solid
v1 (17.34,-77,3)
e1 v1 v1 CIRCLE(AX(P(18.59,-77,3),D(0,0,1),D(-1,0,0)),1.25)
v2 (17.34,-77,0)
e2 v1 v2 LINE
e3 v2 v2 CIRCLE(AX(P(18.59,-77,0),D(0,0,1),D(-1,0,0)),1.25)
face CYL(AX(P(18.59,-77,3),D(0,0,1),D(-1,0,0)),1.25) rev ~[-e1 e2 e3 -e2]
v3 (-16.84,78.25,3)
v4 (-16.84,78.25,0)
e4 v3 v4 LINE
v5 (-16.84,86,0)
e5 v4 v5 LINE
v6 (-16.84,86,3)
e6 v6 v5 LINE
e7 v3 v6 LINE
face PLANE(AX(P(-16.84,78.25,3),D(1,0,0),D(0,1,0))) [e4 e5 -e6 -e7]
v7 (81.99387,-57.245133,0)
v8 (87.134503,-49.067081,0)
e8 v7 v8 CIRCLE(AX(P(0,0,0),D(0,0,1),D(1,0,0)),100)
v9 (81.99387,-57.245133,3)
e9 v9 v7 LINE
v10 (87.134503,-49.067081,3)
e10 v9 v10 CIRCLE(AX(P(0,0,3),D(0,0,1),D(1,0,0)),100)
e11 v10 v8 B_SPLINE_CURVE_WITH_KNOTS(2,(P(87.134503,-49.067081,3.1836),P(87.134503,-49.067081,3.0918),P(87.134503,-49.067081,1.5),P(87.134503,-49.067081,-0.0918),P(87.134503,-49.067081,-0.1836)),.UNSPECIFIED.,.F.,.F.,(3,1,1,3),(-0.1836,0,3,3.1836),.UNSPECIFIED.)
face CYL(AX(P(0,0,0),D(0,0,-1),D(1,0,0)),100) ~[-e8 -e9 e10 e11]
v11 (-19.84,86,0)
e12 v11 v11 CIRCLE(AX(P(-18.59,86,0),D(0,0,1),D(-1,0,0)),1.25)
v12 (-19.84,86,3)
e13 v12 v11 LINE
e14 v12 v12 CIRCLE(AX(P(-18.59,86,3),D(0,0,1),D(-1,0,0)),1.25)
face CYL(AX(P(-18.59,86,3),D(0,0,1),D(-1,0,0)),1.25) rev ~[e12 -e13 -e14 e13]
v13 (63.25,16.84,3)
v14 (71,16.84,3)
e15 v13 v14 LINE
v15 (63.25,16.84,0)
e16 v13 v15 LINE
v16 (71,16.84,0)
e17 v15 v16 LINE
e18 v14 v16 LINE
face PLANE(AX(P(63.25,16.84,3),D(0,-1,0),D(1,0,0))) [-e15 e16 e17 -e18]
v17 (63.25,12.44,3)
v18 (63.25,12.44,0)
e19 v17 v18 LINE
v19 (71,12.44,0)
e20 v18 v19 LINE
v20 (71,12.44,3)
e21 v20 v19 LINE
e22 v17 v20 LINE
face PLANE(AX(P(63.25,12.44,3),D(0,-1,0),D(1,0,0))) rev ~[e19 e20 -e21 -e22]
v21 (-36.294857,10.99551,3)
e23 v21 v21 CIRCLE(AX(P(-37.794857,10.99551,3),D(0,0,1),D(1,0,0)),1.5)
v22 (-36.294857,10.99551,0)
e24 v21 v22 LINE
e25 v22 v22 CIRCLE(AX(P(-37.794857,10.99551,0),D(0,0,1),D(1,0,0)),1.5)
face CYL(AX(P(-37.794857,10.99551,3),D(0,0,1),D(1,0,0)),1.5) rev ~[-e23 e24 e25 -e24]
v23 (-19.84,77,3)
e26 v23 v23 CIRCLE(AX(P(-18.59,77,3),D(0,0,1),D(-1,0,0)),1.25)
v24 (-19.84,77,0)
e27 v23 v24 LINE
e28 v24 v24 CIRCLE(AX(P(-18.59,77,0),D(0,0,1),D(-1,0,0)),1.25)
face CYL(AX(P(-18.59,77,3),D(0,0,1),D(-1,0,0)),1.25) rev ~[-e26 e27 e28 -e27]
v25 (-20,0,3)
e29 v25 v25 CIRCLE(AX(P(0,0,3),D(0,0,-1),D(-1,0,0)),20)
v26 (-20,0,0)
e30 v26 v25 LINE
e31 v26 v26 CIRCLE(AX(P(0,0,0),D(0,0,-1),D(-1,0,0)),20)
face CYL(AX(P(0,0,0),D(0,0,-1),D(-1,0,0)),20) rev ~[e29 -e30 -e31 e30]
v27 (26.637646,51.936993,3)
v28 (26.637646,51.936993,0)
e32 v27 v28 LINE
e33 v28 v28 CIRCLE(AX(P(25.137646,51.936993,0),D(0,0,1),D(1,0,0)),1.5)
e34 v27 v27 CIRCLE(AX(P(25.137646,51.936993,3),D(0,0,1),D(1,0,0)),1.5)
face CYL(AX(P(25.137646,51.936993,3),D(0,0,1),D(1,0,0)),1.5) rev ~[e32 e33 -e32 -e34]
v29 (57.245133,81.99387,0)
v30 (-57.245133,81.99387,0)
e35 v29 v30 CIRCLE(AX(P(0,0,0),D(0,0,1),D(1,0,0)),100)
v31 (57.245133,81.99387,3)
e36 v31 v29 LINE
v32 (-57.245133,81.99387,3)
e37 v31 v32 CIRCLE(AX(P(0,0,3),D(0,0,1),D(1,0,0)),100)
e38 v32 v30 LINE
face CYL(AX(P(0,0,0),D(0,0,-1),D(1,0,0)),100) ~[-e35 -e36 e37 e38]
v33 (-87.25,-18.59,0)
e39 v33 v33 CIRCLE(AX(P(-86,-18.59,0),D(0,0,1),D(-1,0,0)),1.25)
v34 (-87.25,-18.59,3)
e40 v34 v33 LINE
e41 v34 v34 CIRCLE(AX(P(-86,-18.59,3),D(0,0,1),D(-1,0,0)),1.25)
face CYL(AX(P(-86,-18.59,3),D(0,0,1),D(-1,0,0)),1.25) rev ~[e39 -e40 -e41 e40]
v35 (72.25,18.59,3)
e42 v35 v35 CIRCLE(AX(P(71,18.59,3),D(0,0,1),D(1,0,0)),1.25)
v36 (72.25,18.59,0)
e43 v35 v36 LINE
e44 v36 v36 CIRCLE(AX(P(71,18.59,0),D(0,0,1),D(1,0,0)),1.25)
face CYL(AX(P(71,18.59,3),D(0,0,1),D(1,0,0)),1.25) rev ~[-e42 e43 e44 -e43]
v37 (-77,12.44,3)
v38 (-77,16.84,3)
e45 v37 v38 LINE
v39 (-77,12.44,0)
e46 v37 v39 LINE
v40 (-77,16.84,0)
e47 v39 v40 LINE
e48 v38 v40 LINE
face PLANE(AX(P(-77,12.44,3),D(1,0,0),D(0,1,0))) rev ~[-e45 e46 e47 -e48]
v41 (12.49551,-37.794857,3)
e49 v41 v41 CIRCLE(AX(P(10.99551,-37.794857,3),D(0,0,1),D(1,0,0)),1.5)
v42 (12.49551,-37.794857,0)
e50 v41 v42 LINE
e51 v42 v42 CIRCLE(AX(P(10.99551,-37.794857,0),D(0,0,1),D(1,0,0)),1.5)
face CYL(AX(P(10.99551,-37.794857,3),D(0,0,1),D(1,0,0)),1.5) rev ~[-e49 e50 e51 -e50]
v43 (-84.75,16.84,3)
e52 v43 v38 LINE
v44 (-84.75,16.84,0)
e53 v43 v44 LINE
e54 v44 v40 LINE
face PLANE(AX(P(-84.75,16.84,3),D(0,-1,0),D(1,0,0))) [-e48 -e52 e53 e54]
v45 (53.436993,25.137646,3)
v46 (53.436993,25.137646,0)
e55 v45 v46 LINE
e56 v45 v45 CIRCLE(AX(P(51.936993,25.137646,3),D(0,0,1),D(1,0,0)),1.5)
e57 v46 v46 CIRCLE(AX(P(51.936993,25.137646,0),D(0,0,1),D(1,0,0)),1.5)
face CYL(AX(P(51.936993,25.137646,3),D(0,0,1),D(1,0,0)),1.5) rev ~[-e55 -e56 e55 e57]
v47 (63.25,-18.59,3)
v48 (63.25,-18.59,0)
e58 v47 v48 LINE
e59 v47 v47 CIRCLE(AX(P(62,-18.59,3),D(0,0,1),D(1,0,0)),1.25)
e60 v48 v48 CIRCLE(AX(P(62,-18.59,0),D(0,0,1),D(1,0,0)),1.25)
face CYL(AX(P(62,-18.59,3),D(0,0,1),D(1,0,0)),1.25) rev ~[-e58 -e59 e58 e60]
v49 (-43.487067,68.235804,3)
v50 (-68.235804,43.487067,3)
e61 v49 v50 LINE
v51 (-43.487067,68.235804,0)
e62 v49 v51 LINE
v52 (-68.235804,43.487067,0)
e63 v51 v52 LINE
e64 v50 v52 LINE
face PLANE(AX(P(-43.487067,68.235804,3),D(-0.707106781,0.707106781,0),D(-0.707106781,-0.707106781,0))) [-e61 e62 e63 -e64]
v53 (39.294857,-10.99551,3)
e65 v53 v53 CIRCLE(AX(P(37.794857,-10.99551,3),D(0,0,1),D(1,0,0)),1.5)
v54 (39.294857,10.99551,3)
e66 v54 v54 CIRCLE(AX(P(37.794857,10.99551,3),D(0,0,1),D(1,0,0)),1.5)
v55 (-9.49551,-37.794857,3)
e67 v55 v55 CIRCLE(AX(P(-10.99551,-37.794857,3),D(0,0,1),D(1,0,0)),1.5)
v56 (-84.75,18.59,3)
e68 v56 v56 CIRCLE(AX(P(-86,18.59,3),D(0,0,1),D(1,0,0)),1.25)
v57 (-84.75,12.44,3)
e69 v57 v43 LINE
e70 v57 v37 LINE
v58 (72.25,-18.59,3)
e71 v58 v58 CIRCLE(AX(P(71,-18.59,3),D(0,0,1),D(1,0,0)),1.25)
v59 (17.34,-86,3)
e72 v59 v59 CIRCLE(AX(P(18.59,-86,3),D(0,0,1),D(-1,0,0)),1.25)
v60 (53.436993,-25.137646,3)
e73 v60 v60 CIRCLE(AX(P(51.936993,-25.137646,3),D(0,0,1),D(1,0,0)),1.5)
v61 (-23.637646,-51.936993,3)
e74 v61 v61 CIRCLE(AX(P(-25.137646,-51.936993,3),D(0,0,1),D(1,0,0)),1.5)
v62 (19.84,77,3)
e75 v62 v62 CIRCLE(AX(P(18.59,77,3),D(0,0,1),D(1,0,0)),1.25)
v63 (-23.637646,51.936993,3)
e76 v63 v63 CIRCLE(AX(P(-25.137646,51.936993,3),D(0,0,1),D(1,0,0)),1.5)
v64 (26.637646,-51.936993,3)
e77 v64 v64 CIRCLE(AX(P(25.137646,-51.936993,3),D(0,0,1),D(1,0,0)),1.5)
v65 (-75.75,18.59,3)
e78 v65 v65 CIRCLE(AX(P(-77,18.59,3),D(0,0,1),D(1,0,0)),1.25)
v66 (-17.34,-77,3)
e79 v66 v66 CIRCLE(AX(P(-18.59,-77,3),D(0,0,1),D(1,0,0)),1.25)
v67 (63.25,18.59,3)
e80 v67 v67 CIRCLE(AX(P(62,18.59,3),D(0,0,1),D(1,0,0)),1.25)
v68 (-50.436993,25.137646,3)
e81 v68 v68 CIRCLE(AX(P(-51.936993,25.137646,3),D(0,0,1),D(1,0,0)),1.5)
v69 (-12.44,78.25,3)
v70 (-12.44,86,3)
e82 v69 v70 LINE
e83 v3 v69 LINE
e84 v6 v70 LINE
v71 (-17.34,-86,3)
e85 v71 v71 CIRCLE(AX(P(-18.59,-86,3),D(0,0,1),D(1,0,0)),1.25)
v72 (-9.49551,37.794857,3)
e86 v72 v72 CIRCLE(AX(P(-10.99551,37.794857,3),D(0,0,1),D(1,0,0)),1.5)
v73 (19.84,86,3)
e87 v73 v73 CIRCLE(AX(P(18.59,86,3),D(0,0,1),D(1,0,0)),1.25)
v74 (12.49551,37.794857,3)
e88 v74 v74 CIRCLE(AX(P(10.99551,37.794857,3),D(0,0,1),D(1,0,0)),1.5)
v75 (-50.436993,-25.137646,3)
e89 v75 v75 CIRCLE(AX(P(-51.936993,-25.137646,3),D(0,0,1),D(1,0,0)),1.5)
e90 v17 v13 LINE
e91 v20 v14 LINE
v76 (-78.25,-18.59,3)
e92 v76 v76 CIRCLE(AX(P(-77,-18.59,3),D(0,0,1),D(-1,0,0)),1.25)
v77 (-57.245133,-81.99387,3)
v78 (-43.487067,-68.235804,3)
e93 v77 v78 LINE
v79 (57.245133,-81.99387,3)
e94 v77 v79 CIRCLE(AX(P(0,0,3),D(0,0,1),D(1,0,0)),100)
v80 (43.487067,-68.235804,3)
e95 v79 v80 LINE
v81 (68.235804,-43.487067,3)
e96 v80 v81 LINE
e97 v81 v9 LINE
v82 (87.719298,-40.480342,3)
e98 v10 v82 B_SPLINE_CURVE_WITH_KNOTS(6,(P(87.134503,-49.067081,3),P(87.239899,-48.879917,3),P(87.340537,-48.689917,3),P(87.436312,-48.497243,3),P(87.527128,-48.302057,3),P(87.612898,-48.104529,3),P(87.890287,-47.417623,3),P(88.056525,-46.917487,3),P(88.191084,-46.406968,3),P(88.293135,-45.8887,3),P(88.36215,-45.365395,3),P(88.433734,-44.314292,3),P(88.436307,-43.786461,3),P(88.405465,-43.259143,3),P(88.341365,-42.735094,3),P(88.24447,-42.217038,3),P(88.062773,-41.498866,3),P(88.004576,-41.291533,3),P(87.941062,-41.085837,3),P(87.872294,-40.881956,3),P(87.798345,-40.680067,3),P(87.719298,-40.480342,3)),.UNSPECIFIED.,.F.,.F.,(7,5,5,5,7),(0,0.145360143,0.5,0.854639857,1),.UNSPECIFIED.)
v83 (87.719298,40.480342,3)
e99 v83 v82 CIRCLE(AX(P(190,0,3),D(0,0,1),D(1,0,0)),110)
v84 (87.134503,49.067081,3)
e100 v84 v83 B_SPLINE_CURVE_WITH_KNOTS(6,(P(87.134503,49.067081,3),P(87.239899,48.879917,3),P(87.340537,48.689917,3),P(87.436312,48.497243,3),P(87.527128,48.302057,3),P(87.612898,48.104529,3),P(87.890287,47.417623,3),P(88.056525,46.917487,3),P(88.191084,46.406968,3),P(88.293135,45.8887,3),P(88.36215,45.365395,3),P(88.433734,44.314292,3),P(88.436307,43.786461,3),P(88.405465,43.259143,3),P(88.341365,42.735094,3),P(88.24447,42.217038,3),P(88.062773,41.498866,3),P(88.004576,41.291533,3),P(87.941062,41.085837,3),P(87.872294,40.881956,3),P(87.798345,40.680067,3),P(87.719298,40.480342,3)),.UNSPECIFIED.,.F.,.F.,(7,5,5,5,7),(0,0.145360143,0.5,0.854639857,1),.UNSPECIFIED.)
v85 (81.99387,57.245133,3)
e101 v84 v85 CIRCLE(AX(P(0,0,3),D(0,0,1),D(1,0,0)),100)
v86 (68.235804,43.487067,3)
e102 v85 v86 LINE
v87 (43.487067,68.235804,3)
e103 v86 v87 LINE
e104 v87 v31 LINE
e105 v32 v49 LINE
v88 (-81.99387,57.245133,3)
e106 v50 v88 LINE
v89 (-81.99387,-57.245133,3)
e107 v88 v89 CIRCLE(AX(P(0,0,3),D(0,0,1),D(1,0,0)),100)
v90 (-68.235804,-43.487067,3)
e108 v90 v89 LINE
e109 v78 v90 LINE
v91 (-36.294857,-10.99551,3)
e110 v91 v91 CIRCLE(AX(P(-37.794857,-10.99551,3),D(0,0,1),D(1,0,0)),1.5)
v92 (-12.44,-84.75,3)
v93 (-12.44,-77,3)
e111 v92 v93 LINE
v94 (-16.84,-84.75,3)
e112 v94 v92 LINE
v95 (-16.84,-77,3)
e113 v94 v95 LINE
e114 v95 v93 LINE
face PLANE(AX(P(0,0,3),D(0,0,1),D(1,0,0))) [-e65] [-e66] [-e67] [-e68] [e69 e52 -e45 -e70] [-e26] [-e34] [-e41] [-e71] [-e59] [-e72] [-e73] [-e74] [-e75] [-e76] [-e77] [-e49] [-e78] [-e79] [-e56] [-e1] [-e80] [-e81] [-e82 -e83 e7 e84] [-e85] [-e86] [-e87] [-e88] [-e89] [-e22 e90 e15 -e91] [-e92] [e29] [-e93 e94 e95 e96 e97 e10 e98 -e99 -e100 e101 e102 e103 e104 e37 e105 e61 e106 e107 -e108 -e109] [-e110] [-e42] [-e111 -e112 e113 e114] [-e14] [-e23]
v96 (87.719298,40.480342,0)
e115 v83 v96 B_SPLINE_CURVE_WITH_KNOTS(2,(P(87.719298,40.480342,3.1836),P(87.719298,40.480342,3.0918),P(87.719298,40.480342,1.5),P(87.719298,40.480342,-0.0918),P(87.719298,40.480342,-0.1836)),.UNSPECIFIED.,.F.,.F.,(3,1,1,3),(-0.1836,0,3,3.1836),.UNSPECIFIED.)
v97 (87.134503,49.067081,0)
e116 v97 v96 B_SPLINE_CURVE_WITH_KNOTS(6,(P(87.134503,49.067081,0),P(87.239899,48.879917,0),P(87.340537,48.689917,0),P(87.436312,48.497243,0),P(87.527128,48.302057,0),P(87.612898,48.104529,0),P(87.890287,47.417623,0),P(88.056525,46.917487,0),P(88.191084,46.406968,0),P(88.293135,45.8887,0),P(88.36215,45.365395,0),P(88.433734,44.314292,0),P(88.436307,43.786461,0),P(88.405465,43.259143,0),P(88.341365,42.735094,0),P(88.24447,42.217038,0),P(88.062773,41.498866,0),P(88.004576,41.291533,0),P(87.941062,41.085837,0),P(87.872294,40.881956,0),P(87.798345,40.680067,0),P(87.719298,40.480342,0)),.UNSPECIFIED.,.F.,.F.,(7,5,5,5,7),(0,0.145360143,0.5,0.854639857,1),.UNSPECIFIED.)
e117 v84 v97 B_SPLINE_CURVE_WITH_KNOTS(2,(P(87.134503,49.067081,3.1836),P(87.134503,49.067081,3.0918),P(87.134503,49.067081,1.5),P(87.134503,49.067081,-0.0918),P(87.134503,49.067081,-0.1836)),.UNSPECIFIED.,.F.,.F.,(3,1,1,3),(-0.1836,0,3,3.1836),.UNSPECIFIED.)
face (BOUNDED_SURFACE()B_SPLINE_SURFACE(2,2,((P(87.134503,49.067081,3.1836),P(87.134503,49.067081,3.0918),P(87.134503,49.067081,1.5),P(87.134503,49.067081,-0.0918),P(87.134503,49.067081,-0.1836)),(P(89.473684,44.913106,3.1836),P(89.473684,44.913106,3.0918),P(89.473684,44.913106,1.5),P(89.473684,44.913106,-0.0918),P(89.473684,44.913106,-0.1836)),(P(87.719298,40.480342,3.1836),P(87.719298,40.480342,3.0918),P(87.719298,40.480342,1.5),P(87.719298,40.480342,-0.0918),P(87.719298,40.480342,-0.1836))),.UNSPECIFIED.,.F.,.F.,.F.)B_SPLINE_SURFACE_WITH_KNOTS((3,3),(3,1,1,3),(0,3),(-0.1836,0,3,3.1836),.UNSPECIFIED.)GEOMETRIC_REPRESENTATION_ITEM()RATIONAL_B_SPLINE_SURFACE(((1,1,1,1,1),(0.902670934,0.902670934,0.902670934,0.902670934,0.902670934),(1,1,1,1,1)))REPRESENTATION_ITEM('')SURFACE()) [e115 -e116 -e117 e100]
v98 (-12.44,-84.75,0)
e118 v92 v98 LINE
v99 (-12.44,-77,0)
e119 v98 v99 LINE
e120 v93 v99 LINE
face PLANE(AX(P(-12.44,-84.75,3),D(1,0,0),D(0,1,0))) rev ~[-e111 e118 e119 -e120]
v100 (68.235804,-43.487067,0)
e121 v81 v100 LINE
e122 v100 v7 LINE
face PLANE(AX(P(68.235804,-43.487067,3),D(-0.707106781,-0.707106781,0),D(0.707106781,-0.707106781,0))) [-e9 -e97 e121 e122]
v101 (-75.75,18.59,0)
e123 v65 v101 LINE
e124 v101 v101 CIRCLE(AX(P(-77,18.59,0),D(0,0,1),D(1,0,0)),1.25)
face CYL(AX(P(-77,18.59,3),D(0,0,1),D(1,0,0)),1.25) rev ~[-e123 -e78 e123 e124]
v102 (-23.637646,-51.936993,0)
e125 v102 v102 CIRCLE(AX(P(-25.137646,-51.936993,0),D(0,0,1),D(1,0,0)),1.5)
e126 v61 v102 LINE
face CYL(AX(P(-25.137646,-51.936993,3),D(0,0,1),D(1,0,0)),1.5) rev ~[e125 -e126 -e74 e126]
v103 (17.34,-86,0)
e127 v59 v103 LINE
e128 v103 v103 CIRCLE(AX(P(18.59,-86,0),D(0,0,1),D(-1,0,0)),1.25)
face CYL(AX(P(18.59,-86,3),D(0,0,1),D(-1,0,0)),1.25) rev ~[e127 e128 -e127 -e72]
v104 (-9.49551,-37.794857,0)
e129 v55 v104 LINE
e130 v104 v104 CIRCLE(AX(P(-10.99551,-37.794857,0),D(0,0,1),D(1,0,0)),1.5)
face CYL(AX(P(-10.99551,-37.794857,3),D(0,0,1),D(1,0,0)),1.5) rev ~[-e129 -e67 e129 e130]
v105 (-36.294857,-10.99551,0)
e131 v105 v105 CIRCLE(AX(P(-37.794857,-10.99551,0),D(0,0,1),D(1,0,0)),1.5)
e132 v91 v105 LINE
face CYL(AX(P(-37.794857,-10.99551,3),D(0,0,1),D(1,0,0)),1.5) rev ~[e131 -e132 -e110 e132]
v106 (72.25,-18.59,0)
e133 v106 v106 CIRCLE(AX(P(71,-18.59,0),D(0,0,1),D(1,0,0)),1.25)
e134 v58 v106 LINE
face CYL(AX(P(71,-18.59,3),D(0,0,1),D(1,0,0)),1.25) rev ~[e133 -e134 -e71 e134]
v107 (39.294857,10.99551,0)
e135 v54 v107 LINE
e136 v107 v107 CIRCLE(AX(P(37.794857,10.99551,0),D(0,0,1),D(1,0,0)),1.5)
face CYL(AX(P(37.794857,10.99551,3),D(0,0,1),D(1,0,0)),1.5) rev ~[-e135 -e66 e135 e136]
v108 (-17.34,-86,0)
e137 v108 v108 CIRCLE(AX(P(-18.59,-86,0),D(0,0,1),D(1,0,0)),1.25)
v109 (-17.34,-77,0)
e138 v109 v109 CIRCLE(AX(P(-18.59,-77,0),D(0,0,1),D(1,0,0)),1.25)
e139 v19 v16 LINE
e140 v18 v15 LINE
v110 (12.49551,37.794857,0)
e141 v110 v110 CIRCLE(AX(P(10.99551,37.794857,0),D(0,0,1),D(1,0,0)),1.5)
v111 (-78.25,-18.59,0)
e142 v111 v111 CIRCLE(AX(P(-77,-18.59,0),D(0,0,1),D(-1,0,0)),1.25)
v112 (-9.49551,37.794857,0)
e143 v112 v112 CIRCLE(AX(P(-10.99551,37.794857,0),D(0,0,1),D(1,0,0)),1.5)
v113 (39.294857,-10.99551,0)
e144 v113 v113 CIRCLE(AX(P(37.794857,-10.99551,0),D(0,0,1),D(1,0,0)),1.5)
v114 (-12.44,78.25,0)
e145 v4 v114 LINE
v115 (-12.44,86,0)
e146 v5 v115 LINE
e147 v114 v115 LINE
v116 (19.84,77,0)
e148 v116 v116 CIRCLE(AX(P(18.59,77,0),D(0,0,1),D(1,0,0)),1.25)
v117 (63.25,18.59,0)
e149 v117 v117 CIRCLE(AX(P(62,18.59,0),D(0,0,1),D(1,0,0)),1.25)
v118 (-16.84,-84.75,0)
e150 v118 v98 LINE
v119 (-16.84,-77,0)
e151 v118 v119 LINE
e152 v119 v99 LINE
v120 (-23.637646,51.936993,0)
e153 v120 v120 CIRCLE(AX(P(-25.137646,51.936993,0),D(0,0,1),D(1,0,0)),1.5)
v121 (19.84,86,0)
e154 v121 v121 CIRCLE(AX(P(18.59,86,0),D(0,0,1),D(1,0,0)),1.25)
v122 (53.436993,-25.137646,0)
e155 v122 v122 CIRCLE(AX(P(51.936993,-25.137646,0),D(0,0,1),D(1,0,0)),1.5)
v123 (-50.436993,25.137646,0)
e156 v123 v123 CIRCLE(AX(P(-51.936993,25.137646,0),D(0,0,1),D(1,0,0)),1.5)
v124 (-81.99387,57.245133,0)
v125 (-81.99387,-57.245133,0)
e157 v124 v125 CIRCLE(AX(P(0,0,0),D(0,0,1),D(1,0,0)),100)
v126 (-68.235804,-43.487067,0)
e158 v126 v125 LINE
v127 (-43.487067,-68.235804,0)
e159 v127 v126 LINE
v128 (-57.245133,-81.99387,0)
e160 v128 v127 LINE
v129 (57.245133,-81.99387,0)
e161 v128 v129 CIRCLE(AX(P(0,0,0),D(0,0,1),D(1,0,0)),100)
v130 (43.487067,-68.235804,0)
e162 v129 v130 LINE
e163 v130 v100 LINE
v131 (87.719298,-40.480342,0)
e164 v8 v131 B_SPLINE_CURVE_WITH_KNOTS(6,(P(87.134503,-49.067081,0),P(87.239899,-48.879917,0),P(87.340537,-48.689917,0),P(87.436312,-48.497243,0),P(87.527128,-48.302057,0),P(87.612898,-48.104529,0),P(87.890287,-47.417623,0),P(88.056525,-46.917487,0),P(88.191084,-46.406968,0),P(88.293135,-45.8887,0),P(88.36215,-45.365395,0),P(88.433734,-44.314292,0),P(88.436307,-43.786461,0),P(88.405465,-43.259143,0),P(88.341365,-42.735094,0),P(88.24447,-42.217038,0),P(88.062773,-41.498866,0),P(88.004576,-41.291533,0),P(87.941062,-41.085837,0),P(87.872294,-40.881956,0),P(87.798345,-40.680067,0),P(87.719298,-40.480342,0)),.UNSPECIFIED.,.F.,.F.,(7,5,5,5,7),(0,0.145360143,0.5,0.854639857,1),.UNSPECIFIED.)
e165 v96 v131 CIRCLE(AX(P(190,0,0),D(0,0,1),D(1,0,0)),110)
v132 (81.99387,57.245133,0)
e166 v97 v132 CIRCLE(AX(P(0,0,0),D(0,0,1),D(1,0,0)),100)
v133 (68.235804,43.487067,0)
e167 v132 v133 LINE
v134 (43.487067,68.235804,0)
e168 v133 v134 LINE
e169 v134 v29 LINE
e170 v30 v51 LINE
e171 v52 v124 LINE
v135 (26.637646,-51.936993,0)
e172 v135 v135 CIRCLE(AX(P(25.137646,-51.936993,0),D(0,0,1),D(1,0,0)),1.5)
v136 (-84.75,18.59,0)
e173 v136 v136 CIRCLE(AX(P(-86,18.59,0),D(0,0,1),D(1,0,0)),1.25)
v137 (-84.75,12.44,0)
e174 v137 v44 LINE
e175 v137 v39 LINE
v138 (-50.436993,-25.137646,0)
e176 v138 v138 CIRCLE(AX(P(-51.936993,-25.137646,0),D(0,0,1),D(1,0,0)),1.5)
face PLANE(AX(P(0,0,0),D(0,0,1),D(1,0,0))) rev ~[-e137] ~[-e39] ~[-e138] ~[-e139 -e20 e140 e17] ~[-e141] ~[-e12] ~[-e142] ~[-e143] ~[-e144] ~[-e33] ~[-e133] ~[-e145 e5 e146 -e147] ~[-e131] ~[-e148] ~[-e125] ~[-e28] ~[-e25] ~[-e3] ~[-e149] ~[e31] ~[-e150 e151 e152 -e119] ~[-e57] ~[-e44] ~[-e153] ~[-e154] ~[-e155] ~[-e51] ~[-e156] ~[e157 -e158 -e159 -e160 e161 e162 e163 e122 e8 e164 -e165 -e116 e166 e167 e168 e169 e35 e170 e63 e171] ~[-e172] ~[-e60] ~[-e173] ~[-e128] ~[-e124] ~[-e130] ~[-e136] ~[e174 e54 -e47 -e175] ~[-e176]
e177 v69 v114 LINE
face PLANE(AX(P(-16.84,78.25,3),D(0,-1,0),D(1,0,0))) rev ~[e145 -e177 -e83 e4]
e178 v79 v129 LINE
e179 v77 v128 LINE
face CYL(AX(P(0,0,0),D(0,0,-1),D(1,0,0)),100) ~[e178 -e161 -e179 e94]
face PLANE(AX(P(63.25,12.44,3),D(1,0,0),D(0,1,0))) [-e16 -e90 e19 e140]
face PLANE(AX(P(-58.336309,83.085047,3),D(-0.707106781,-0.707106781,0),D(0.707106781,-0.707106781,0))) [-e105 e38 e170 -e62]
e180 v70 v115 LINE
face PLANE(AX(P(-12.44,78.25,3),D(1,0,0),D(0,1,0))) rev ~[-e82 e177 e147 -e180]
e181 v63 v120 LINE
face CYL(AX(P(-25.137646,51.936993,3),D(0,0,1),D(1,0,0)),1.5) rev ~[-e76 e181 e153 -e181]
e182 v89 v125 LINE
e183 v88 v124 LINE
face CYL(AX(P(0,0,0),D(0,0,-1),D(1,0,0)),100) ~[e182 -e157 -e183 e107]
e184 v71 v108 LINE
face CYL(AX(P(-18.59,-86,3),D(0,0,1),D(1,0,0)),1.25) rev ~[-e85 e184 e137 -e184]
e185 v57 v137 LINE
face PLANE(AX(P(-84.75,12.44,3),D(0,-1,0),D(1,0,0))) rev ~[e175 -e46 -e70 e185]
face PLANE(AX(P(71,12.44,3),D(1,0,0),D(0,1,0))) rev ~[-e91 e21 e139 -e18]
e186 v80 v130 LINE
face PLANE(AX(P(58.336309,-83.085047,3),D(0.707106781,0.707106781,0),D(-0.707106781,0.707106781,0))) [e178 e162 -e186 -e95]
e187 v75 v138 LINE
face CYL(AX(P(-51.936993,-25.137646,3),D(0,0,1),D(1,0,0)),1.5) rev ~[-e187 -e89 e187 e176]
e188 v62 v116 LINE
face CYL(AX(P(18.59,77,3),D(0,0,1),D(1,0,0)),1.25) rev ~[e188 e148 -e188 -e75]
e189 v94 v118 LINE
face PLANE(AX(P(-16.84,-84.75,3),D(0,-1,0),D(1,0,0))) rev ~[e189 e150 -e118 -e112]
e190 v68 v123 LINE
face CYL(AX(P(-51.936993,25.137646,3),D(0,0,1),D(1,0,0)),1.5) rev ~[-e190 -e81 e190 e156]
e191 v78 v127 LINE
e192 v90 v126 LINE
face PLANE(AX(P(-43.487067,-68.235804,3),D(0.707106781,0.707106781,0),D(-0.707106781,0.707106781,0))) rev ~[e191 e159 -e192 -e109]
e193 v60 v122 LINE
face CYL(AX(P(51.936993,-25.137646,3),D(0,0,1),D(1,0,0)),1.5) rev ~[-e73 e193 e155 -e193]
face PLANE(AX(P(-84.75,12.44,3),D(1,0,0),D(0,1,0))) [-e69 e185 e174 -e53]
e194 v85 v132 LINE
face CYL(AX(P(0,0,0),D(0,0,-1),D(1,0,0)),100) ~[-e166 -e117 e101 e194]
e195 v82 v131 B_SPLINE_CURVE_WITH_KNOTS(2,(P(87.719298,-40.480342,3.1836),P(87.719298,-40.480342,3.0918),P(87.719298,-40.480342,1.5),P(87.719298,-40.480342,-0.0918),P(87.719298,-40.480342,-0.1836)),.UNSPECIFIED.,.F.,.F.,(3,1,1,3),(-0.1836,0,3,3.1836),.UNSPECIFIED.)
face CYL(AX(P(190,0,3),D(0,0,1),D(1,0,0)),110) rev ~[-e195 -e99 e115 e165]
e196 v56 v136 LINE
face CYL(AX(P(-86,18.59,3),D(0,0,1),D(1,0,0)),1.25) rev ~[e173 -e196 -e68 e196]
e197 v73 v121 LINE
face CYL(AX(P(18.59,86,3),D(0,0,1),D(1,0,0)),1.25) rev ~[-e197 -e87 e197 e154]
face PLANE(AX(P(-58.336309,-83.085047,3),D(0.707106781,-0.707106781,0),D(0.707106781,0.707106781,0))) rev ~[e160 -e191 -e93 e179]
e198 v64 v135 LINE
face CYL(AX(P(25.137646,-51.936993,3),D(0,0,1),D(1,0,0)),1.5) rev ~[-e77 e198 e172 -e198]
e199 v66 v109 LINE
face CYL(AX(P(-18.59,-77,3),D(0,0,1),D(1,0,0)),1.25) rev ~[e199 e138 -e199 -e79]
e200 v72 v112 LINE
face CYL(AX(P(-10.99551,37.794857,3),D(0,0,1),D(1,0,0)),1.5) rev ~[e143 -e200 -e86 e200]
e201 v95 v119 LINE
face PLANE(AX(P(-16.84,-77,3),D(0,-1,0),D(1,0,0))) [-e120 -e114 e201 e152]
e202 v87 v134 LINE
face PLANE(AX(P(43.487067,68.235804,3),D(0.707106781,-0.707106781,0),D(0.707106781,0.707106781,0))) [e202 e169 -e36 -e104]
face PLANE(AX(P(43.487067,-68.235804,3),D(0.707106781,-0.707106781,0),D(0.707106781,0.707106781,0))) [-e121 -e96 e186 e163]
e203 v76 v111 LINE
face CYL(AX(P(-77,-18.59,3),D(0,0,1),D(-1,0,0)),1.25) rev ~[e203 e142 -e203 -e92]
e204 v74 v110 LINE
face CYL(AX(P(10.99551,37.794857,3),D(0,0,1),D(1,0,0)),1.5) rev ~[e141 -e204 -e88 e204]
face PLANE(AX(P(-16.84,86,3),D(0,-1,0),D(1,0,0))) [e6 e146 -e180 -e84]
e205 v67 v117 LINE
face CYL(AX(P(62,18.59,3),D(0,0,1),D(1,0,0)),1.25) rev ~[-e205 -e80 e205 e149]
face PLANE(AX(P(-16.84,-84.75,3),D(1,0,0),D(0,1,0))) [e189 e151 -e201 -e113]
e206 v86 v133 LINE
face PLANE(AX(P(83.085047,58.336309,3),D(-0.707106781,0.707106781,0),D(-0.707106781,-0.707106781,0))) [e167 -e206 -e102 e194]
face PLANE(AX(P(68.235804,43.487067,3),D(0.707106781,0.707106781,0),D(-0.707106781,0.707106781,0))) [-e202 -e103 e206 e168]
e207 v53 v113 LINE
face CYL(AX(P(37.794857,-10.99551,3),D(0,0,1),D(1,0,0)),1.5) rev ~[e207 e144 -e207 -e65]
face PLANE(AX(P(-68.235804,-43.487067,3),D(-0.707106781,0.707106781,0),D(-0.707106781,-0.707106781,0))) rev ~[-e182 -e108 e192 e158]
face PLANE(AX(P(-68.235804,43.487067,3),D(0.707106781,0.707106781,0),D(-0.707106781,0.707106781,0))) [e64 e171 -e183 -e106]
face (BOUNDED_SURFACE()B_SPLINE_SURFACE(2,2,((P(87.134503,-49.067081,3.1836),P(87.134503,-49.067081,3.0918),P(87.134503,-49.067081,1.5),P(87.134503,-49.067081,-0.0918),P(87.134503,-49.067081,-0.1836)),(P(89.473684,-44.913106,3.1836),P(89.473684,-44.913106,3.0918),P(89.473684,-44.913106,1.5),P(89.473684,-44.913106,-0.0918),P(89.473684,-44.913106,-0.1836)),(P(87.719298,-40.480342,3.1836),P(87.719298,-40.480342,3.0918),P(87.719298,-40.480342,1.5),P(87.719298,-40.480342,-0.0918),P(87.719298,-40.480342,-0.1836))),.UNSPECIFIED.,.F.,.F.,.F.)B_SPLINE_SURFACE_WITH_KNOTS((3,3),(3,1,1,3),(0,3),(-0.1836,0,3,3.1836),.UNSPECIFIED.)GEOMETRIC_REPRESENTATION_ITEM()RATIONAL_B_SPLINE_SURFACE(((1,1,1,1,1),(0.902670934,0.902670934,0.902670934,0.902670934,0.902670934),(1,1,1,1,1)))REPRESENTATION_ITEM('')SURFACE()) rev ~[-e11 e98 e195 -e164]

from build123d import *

# Parameters (mm, degrees)
CROQUIS1_R              = 100
SALIENTE_EXTRUIR1_DEPTH = 3
CROQUIS3_R              = 110
CORTAR_EXTRUIR1_DEPTH   = 3
REDONDEO1_R             = 10
CROQUIS4_R              = 1.5
CORTAR_EXTRUIR2_DEPTH   = 142.453172607
CROQUIS5_R              = 1.25
CROQUIS5_W              = 4.4
CROQUIS5_H              = 7.75
CROQUIS5_W_2            = 7.75
CROQUIS5_H_2            = 4.4
CORTAR_EXTRUIR3_DEPTH   = 142.453172607
CROQUIS6_R              = 20
CORTAR_EXTRUIR4_DEPTH   = 142.453172607


with BuildPart() as part:
    # Croquis1 → Saliente-Extruir1 (new body)
    with BuildSketch(Plane.XY):
        Circle(CROQUIS1_R)
    extrude(amount=SALIENTE_EXTRUIR1_DEPTH)

    # Croquis3 → Cortar-Extruir1 (cut)
    with BuildSketch(Plane.XY.offset(3)):
        with Locations((190, 0)):
            Circle(CROQUIS3_R)
    extrude(amount=-CORTAR_EXTRUIR1_DEPTH, mode=Mode.SUBTRACT)

    # Redondeo1
    redondeo1_edges = [part.edges().sort_by_distance(p)[0] for p in [
        (89.473684211, -44.659375654, 1.5),
        (89.473684211, 44.659375654, 1.5),
    ]]
    fillet(redondeo1_edges, radius=REDONDEO1_R)

    # Croquis4 → Cortar-Extruir2 (cut, through all)
    with BuildSketch(Plane.XY.offset(3)):
        with Locations((-10.995510447, 37.794857454)):
            Circle(CROQUIS4_R)
        with Locations((-51.936993078, -25.137646071)):
            Circle(CROQUIS4_R)
        with Locations((-25.137646071, -51.936993078)):
            Circle(CROQUIS4_R)
        with Locations((-10.995510447, -37.794857454)):
            Circle(CROQUIS4_R)
        with Locations((-37.794857454, -10.995510447)):
            Circle(CROQUIS4_R)
        with Locations((-37.794857454, 10.995510447)):
            Circle(CROQUIS4_R)
        with Locations((-51.936993078, 25.137646071)):
            Circle(CROQUIS4_R)
        with Locations((-25.137646071, 51.936993078)):
            Circle(CROQUIS4_R)
        with Locations((37.794857454, 10.995510447)):
            Circle(CROQUIS4_R)
        with Locations((10.995510447, 37.794857454)):
            Circle(CROQUIS4_R)
        with Locations((25.137646071, 51.936993078)):
            Circle(CROQUIS4_R)
        with Locations((51.936993078, 25.137646071)):
            Circle(CROQUIS4_R)
        with Locations((10.995510447, -37.794857454)):
            Circle(CROQUIS4_R)
        with Locations((37.794857454, -10.995510447)):
            Circle(CROQUIS4_R)
        with Locations((51.936993078, -25.137646071)):
            Circle(CROQUIS4_R)
        with Locations((25.137646071, -51.936993078)):
            Circle(CROQUIS4_R)
        Polygon((-83.085046789, -58.336309448), (-58.336309448, -83.085046789), (-43.487067043, -68.235804385), (-68.235804385, -43.487067043), align=None)
        Polygon((-58.336309448, 83.085046789), (-43.487067043, 68.235804385), (-68.235804385, 43.487067043), (-83.085046789, 58.336309448), align=None)
        Polygon((83.085046789, 58.336309448), (68.235804385, 43.487067043), (43.487067043, 68.235804385), (58.336309448, 83.085046789), align=None)
        Polygon((58.336309448, -83.085046789), (43.487067043, -68.235804385), (68.235804385, -43.487067043), (83.085046789, -58.336309448), align=None)
    extrude(amount=-CORTAR_EXTRUIR2_DEPTH, mode=Mode.SUBTRACT)

    # Croquis5 → Cortar-Extruir3 (cut, through all)
    with BuildSketch(Plane.XY.offset(3)):
        with Locations((-86, 18.59)):
            Circle(CROQUIS5_R)
        with Locations((-77, 18.59)):
            Circle(CROQUIS5_R)
        with Locations(Location((-77, -18.59, 0), (0, 0, 180))):
            Circle(CROQUIS5_R)
        with Locations(Location((-86, -18.59, 0), (0, 0, 180))):
            Circle(CROQUIS5_R)
        with Locations((18.59, 77)):
            Circle(CROQUIS5_R)
        with Locations((18.59, 86)):
            Circle(CROQUIS5_R)
        with Locations(Location((-18.59, 86, 0), (0, 0, 180))):
            Circle(CROQUIS5_R)
        with Locations(Location((-18.59, 77, 0), (0, 0, 180))):
            Circle(CROQUIS5_R)
        with Locations((62, 18.59)):
            Circle(CROQUIS5_R)
        with Locations((71, 18.59)):
            Circle(CROQUIS5_R)
        with Locations((62, -18.59)):
            Circle(CROQUIS5_R)
        with Locations((71, -18.59)):
            Circle(CROQUIS5_R)
        with Locations((-18.59, -77)):
            Circle(CROQUIS5_R)
        with Locations((-18.59, -86)):
            Circle(CROQUIS5_R)
        with Locations(Location((18.59, -86, 0), (0, 0, 180))):
            Circle(CROQUIS5_R)
        with Locations(Location((18.59, -77, 0), (0, 0, 180))):
            Circle(CROQUIS5_R)
        with Locations((-14.64, 82.125)):
            Rectangle(CROQUIS5_W, CROQUIS5_H)
        with Locations((-80.875, 14.64)):
            Rectangle(CROQUIS5_W_2, CROQUIS5_H_2)
        with Locations((67.125, 14.64)):
            Rectangle(CROQUIS5_W_2, CROQUIS5_H_2)
        with Locations((-14.64, -80.875)):
            Rectangle(CROQUIS5_W, CROQUIS5_H)
    extrude(amount=-CORTAR_EXTRUIR3_DEPTH, mode=Mode.SUBTRACT)

    # Croquis6 → Cortar-Extruir4 (cut, through all)
    with BuildSketch(Plane(origin=(0, 0, 0), x_dir=(-1, 0, 0), z_dir=(0, 0, -1))):
        Circle(CROQUIS6_R)
    extrude(amount=-CORTAR_EXTRUIR4_DEPTH, mode=Mode.SUBTRACT)


solid = part.part
